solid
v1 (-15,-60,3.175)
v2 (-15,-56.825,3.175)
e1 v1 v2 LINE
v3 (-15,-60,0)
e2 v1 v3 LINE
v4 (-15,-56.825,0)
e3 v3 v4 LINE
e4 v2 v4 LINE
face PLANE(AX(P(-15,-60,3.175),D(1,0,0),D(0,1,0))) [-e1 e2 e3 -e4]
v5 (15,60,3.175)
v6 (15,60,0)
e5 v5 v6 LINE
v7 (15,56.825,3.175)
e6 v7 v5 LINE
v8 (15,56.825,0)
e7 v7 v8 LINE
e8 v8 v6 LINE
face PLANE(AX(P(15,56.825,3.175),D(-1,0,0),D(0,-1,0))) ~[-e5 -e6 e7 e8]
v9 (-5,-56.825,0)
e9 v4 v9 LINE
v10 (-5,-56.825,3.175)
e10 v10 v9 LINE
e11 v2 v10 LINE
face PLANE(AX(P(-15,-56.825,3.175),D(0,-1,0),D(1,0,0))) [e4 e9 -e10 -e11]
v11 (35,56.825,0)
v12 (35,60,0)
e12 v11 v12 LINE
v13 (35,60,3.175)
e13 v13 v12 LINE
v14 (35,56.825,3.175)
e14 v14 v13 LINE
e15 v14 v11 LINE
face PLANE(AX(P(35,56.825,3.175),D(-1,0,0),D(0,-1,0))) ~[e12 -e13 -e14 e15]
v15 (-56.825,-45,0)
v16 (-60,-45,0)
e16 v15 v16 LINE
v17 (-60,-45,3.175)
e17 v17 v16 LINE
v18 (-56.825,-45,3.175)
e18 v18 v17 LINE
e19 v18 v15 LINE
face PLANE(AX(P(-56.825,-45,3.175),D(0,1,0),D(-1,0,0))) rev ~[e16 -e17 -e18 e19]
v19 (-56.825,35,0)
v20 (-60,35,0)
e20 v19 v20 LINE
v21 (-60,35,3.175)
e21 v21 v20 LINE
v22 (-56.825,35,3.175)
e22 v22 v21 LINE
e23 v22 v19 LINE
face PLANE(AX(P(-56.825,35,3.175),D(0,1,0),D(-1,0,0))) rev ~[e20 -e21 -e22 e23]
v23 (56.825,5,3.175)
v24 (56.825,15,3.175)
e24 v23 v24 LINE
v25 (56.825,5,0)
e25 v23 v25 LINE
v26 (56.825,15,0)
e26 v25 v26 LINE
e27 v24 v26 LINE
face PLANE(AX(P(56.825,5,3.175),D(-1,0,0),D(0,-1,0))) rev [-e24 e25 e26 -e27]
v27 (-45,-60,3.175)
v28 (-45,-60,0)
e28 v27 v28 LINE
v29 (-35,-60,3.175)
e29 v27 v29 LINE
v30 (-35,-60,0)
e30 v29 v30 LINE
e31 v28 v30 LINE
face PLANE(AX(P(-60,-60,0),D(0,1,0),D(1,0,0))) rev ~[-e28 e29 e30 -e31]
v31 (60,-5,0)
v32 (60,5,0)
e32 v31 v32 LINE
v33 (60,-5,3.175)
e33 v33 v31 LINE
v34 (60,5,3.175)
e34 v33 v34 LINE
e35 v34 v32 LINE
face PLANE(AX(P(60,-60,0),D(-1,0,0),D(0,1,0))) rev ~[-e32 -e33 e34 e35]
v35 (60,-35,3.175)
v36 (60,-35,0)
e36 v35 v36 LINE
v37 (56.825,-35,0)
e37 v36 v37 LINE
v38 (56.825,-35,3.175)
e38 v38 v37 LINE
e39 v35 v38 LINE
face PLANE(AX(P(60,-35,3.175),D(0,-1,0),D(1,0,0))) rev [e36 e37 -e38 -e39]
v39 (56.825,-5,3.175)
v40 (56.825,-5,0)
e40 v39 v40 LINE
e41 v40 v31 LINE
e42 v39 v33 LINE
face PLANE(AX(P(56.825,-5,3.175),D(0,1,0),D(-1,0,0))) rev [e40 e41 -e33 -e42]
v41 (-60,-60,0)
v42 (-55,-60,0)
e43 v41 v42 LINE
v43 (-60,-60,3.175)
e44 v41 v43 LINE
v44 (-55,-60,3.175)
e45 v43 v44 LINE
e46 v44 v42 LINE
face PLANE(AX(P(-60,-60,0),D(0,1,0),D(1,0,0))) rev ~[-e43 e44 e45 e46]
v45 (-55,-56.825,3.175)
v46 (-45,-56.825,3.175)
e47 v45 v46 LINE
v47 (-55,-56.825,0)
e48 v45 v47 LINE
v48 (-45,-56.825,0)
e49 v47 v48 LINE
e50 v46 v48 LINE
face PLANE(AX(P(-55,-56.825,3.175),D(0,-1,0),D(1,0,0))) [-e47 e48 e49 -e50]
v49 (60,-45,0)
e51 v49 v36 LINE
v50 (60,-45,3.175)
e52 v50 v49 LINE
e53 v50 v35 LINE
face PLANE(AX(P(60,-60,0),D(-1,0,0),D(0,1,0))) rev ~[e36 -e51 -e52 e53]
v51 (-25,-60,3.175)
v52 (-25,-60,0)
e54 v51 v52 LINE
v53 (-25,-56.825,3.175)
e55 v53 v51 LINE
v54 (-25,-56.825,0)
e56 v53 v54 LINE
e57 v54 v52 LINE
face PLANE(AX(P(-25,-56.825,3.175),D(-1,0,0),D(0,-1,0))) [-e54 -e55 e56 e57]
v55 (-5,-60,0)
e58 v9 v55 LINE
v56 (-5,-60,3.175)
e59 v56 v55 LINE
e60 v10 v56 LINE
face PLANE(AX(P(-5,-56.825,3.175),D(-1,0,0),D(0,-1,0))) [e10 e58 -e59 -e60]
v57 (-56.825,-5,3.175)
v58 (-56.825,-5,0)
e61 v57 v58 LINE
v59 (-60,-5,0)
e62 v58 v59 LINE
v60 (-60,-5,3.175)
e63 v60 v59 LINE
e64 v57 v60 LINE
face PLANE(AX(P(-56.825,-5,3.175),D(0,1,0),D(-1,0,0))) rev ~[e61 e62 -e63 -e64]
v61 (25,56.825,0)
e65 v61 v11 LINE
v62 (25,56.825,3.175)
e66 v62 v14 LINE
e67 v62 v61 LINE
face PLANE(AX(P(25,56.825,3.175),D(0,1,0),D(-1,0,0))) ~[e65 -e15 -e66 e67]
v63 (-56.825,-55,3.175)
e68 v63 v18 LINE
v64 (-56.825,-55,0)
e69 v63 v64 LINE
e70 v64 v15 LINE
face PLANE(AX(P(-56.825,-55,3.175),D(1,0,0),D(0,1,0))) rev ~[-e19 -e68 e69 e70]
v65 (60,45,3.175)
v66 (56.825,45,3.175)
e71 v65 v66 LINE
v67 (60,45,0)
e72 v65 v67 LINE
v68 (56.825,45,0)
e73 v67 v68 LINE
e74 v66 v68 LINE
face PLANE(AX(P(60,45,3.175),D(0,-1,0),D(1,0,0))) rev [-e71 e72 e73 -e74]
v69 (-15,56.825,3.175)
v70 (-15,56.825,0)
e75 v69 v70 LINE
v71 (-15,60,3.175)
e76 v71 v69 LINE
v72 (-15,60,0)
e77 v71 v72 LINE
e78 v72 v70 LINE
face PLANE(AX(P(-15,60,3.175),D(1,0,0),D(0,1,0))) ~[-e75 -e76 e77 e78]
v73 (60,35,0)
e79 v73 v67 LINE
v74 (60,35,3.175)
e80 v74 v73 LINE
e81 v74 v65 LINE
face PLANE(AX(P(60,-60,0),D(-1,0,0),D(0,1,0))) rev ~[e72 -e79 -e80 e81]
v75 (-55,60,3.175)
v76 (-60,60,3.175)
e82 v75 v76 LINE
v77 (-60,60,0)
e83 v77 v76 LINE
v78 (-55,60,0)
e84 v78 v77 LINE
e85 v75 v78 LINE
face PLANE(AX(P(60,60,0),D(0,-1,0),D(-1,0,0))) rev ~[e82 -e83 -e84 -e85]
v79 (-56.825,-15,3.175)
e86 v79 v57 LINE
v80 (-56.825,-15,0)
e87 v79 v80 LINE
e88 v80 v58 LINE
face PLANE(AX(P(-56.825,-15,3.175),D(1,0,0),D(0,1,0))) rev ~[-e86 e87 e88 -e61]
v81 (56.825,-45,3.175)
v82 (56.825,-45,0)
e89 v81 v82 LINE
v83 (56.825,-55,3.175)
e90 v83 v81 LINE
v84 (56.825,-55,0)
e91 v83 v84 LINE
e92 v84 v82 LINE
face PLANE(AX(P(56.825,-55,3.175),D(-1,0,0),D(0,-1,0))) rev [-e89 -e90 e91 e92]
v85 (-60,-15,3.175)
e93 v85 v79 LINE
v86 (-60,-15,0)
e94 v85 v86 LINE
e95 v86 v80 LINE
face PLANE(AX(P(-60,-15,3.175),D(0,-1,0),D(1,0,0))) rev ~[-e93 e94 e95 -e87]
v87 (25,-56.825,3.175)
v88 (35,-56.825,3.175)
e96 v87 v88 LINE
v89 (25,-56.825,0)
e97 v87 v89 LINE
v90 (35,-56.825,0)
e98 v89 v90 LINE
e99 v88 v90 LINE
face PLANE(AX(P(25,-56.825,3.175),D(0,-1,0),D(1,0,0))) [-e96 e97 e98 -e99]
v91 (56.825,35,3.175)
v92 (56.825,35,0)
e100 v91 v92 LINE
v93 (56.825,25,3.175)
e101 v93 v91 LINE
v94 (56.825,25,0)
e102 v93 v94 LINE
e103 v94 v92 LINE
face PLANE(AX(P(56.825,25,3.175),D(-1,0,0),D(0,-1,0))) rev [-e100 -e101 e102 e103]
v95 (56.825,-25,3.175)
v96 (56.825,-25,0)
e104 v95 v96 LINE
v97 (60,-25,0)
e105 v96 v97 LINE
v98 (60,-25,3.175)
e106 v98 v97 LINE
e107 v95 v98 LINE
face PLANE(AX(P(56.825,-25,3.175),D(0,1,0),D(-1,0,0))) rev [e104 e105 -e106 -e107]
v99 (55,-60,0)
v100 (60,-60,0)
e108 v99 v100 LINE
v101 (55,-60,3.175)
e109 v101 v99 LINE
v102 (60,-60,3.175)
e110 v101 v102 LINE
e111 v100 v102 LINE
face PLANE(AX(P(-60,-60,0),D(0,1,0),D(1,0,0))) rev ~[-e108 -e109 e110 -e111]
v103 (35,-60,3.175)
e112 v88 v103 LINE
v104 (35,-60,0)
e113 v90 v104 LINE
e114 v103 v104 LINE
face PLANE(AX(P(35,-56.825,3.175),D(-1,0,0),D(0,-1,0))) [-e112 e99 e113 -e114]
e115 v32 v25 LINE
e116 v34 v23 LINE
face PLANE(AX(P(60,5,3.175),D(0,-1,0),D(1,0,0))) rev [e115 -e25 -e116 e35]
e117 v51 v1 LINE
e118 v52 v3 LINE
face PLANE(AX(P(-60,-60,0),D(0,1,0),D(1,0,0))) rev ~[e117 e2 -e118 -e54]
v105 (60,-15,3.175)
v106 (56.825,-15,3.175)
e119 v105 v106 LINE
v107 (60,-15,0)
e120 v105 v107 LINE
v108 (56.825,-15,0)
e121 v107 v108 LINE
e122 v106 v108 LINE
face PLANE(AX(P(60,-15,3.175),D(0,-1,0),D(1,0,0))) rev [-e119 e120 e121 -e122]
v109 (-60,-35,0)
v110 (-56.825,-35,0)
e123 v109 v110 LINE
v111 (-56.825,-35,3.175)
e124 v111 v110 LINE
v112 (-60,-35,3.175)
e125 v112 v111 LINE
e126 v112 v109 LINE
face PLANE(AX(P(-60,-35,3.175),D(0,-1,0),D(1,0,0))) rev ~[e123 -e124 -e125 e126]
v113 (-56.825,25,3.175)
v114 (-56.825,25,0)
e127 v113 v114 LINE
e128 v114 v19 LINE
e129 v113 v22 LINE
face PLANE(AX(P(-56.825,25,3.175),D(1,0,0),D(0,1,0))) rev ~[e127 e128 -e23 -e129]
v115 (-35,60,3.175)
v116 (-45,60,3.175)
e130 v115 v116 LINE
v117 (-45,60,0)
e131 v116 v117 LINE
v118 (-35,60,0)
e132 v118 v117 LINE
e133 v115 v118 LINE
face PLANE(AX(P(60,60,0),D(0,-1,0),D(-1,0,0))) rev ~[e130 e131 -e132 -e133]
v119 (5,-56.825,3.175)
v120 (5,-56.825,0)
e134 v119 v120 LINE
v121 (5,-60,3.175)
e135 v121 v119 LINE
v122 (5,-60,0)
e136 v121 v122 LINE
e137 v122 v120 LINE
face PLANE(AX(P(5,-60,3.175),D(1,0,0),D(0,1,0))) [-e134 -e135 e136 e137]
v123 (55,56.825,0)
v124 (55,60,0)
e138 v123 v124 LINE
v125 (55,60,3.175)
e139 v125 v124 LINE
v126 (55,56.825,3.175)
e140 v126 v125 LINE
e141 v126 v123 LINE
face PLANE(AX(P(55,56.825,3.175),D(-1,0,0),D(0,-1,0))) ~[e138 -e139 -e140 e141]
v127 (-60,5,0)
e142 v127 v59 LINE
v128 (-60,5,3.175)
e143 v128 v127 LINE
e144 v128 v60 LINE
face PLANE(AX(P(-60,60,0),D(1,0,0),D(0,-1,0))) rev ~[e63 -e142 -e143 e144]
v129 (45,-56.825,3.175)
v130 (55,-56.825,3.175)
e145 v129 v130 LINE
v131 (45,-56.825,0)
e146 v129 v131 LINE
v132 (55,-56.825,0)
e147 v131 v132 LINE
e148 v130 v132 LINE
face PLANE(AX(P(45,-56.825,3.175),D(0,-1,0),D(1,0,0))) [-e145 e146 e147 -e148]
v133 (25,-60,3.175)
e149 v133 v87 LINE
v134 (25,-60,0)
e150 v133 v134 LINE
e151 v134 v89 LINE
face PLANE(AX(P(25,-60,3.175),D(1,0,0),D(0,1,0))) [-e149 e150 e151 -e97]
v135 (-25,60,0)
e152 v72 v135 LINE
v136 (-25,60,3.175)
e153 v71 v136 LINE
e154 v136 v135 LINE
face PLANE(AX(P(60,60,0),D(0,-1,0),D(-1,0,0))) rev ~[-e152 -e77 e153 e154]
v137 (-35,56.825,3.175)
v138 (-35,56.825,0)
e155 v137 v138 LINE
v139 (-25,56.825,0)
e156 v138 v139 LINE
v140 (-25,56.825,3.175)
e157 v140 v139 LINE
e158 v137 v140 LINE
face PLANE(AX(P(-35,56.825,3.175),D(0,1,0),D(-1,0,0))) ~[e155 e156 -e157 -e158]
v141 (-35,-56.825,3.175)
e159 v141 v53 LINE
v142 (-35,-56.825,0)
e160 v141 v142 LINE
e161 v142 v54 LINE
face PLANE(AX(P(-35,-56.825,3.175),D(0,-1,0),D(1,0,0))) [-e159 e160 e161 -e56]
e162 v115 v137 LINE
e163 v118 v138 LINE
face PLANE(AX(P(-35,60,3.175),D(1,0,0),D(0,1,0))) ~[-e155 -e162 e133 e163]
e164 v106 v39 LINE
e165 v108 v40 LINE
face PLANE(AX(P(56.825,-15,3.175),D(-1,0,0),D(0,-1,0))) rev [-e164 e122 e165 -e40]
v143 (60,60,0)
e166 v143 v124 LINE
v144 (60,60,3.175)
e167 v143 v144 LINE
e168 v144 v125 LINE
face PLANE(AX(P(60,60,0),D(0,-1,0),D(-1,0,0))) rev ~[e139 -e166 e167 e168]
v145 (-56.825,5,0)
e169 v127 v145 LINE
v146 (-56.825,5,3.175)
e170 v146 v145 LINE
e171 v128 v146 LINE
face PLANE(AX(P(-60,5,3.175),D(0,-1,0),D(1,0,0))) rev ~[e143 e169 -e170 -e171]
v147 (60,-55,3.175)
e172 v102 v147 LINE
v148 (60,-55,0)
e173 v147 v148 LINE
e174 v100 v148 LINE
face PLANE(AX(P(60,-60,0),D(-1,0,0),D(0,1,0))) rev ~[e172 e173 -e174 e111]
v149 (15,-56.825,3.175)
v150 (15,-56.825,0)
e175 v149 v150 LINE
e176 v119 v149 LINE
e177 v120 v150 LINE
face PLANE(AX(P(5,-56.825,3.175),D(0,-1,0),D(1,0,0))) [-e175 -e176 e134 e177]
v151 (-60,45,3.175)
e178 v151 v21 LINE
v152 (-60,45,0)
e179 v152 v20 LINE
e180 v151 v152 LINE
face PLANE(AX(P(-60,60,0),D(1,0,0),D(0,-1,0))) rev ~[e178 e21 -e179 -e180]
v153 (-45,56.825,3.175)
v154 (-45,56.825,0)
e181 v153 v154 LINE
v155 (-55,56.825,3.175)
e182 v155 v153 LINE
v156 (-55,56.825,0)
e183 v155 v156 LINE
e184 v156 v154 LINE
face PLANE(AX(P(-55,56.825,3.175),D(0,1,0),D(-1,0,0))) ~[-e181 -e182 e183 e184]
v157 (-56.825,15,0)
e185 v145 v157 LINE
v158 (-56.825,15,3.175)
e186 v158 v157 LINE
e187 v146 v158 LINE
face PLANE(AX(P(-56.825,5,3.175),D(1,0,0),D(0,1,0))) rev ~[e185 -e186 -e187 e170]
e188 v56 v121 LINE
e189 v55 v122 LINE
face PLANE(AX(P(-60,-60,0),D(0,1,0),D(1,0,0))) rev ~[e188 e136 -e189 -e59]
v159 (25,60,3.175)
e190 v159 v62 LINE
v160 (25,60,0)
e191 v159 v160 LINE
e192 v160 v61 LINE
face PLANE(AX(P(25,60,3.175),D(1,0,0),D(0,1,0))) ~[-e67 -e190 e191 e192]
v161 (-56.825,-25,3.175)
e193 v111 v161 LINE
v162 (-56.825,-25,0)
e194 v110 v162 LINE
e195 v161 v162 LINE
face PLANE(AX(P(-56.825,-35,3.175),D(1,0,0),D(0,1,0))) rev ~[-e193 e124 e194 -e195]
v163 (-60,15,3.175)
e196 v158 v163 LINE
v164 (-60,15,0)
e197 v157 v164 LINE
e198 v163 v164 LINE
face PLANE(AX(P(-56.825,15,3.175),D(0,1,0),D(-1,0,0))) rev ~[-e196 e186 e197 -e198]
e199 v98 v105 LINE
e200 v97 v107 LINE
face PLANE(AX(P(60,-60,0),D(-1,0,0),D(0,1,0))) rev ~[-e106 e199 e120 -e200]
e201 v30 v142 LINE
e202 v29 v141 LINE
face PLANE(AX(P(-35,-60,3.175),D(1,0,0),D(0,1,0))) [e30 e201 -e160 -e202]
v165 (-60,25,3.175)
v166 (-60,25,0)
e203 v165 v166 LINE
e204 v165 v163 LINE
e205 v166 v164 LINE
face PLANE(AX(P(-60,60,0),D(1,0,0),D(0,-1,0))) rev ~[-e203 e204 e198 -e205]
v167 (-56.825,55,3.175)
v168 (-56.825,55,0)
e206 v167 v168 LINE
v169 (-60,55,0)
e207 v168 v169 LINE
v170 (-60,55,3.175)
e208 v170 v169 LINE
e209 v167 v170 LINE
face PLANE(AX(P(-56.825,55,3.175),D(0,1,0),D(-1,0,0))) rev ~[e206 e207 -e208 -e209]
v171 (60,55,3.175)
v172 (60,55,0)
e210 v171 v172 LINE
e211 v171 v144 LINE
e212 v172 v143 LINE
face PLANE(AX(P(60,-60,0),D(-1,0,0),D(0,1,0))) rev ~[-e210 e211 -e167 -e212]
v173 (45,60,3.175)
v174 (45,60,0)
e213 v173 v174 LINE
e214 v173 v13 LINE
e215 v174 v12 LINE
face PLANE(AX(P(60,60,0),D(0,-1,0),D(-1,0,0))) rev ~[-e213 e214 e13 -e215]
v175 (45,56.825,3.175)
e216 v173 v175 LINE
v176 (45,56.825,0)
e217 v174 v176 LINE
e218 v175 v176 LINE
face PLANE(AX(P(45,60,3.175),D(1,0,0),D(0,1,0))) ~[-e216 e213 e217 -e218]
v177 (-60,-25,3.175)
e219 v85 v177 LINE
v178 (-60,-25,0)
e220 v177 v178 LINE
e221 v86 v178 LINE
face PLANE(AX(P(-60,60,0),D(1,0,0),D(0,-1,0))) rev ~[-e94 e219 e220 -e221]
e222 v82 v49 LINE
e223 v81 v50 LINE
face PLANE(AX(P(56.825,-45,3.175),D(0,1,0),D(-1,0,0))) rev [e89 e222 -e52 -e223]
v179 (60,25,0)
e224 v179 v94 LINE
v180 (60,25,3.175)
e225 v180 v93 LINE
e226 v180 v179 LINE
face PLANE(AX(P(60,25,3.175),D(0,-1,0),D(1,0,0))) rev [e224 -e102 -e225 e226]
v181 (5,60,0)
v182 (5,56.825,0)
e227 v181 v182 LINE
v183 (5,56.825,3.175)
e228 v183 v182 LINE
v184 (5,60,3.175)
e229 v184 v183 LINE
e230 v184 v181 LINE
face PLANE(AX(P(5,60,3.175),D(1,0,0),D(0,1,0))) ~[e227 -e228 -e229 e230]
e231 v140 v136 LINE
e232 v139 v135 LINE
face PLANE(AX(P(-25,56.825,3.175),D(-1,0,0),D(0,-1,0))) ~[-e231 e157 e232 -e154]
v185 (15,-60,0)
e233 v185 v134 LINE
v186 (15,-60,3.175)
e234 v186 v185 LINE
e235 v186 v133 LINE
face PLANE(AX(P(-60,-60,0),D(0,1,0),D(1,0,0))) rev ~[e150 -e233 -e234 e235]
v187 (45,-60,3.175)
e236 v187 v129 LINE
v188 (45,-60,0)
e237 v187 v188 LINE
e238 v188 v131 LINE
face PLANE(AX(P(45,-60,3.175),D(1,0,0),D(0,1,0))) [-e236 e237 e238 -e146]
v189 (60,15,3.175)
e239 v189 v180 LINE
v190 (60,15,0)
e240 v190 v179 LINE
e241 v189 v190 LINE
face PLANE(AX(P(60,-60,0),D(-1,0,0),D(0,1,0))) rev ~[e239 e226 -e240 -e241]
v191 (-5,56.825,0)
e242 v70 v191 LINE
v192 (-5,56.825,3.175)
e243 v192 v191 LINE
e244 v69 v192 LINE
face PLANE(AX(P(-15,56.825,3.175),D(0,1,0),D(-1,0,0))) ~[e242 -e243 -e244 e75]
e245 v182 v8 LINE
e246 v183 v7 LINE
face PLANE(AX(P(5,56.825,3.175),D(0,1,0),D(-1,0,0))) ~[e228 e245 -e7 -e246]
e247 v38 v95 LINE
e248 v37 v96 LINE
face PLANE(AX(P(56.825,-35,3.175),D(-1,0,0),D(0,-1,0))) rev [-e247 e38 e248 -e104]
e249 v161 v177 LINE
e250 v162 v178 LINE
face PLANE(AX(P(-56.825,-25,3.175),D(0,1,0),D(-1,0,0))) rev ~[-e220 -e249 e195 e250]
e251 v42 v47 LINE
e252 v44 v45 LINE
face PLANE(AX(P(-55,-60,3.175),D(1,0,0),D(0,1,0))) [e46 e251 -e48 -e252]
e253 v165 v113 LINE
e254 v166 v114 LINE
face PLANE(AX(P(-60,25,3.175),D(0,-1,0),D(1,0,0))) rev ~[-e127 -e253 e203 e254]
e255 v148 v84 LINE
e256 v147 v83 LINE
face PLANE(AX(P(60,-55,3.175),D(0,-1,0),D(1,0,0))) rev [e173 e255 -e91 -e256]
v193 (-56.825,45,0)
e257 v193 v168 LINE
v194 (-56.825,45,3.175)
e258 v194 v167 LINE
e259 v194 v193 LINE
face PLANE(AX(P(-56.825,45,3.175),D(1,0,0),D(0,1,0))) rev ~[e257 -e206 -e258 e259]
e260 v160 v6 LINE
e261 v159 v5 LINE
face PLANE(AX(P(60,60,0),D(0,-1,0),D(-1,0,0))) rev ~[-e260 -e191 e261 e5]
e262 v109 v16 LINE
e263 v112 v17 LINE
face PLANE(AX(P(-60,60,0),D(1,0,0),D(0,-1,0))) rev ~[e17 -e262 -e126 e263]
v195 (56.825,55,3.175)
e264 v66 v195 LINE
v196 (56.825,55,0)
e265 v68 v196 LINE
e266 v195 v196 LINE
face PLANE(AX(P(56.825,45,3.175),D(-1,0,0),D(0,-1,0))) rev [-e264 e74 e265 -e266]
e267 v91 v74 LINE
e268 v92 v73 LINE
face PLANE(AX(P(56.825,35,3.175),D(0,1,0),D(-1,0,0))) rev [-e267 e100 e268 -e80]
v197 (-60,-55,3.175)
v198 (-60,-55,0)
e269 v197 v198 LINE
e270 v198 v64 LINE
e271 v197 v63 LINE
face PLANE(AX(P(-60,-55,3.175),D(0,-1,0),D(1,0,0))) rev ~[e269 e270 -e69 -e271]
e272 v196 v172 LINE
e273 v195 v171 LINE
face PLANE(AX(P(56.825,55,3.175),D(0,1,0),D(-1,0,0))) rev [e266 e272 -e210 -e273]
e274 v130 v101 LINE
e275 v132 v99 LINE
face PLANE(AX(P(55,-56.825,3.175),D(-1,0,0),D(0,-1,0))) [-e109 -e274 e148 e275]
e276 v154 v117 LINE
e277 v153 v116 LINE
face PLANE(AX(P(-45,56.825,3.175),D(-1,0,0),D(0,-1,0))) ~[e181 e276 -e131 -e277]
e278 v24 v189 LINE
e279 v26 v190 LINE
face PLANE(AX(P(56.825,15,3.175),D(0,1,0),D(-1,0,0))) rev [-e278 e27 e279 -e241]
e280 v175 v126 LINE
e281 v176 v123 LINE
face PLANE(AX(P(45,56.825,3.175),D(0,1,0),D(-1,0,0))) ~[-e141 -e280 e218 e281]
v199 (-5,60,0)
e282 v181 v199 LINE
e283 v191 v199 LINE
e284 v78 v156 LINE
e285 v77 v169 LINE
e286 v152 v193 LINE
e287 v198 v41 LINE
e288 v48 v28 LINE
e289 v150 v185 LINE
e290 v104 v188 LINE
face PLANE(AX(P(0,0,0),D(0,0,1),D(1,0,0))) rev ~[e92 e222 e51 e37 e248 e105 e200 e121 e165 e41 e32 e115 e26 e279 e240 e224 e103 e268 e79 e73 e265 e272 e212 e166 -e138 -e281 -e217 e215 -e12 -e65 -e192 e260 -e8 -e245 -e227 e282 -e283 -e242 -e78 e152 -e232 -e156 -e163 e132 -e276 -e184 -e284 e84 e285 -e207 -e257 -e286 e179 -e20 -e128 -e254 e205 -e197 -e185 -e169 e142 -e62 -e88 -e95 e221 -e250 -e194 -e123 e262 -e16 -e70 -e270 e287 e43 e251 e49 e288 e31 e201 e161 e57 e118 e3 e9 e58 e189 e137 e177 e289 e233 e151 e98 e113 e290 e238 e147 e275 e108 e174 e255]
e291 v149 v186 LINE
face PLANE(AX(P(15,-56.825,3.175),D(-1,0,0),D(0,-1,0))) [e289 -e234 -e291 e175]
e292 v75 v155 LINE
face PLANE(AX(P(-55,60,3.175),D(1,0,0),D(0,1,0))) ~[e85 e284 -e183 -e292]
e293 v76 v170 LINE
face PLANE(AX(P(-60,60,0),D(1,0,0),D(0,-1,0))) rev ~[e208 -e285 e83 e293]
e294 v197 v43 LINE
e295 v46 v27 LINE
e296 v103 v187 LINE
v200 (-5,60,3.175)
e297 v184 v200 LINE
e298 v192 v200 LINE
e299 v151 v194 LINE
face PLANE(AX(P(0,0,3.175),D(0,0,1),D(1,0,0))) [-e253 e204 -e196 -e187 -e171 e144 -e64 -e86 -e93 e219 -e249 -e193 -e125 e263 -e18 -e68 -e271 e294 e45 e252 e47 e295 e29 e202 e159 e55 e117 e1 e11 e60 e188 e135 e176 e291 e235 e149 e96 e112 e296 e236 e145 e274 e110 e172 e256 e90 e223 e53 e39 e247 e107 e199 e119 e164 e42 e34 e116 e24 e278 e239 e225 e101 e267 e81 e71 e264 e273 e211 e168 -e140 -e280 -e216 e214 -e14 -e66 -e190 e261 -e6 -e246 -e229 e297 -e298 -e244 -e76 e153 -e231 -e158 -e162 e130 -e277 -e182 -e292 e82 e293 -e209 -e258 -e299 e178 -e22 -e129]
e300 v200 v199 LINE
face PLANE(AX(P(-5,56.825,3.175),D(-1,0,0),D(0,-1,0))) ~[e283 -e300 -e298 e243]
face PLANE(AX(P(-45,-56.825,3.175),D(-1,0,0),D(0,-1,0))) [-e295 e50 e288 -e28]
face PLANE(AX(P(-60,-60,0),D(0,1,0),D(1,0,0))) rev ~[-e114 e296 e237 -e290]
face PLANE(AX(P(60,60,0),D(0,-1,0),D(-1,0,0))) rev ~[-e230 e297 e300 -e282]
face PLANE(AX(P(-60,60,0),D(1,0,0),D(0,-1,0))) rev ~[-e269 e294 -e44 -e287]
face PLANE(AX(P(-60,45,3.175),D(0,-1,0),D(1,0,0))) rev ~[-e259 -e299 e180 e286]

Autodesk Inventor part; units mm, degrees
ref_plane "YZ Plane" through (0, 0, 0) normal (1, 0, 0) x (0, 1, 0)
ref_plane "XZ Plane" through (0, 0, 0) normal (0, 1, 0) x (-1, 0, 0)
ref_plane "XY Plane" through (0, 0, 0) normal (0, 0, 1) x (1, 0, 0)
sketch "Sketch1" plane through (0, 0, 0) normal (0, 0, 1) x (1, 0, 0)
  line L0 (-60, -60) -> (60, -60)
  line L1 (60, -60) -> (60, 60)
  line L2 (60, 60) -> (-60, 60)
  line L3 (-60, 60) -> (-60, -60)
  line L4 (-60, -60) -> (60, 60) construction
  line L5 (60, -60) -> (-60, 60) construction
  point P0 (0, 0)
  dimension "d0" = 120
  dimension "d1" = 120
extrude "Extrusion1" add sketch "Sketch1" along normal blind 3.175
sketch "Sketch5" plane through (0, 0, 3.175) normal (0, 0, 1) x (1, 0, 0)
  line L0 (-60, -60) -> (60, -60) projected
  line L1 (60, -60) -> (60, 60) projected
  line L2 (60, 60) -> (-60, 60) projected
  line L3 (-60, 60) -> (-60, -60) projected
  line L4 (-60, -60) -> (60, -60) projected
  line L5 (55, -60) -> (45, -60)
  line L6 (45, -60) -> (45, -56.825)
  line L7 (45, -56.825) -> (55, -56.825)
  line L8 (55, -56.825) -> (55, -60)
  point P0 (0, 0)
  dimension "d25" = 10
  dimension "d27" = 5
  dimension "d41" = 3.175
extrude "Extrusion3" cut sketch "Sketch5" against normal up to surface (3.175 mm away) contours L6 L7 L8 L0
pattern_linear "Rectangular Pattern2" count 6 spacing 20 along (-1, 0, 0) of "Extrusion3"
mirror "Mirror2" about plane through (0, 0, 0) normal (0, 1, 0) of "Extrusion3", "Rectangular Pattern2"
sketch "Sketch6" plane through (0, 0, 3.175) normal (0, 0, 1) x (1, 0, 0)
  line L0 (-60, -60) -> (-55, -60) projected
  line L1 (-45, -60) -> (-35, -60) projected
  line L2 (-25, -60) -> (-15, -60) projected
  line L3 (-5, -60) -> (5, -60) projected
  line L4 (15, -60) -> (25, -60) projected
  line L5 (35, -60) -> (45, -60) projected
  line L6 (60, -60) -> (60, 60) projected
  line L7 (60, 60) -> (55, 60) projected
  line L8 (45, 60) -> (35, 60) projected
  line L9 (25, 60) -> (15, 60) projected
  line L10 (5, 60) -> (-5, 60) projected
  line L11 (-15, 60) -> (-25, 60) projected
  line L12 (-35, 60) -> (-45, 60) projected
  line L13 (-60, 60) -> (-60, -60) projected
  line L14 (-60, -55) -> (-56.825, -55)
  line L15 (-56.825, -55) -> (-56.825, -45)
  line L16 (-56.825, -45) -> (-60, -45)
  line L17 (-60, -45) -> (-60, -55)
  line L18 (55, -60) -> (60, -60) projected
  line L19 (-55, 60) -> (-60, 60) projected
  line L20 (-55, 56.825) -> (-55, 60) projected
  line L21 (-55, -60) -> (-55, -56.825) projected
  line L22 (-55, -56.825) -> (-45, -56.825) projected
  line L23 (-45, -56.825) -> (-45, -60) projected
  line L24 (-35, -60) -> (-35, -56.825) projected
  line L25 (-35, -56.825) -> (-25, -56.825) projected
  line L26 (-25, -56.825) -> (-25, -60) projected
  line L27 (-15, -60) -> (-15, -56.825) projected
  line L28 (-15, -56.825) -> (-5, -56.825) projected
  line L29 (-5, -56.825) -> (-5, -60) projected
  line L30 (5, -60) -> (5, -56.825) projected
  line L31 (5, -56.825) -> (15, -56.825) projected
  line L32 (15, -56.825) -> (15, -60) projected
  line L33 (25, -60) -> (25, -56.825) projected
  line L34 (25, -56.825) -> (35, -56.825) projected
  line L35 (35, -56.825) -> (35, -60) projected
  line L36 (45, -60) -> (45, -56.825) projected
  line L37 (45, -56.825) -> (55, -56.825) projected
  line L38 (55, -56.825) -> (55, -60) projected
  line L39 (55, 60) -> (55, 56.825) projected
  line L40 (55, 56.825) -> (45, 56.825) projected
  line L41 (45, 56.825) -> (45, 60) projected
  line L42 (35, 60) -> (35, 56.825) projected
  line L43 (35, 56.825) -> (25, 56.825) projected
  line L44 (25, 56.825) -> (25, 60) projected
  line L45 (15, 60) -> (15, 56.825) projected
  line L46 (15, 56.825) -> (5, 56.825) projected
  line L47 (5, 56.825) -> (5, 60) projected
  line L48 (-5, 60) -> (-5, 56.825) projected
  line L49 (-5, 56.825) -> (-15, 56.825) projected
  line L50 (-15, 56.825) -> (-15, 60) projected
  line L51 (-25, 60) -> (-25, 56.825) projected
  line L52 (-25, 56.825) -> (-35, 56.825) projected
  line L53 (-35, 56.825) -> (-35, 60) projected
  line L54 (-45, 60) -> (-45, 56.825) projected
  line L55 (-45, 56.825) -> (-55, 56.825) projected
  point P0 (0, 0)
  dimension "d34" = 10
  dimension "d35" = 5
  dimension "d42" = 3.175
extrude "Extrusion4" cut sketch "Sketch6" against normal up to surface (3.175 mm away) contours L13 L16 L15 L14
pattern_linear "Rectangular Pattern3" count 6 spacing 20 along (0, 1, 0) of "Extrusion4"
mirror "Mirror3" about plane through (0, 0, 0) normal (1, 0, 0) of "Extrusion4", "Rectangular Pattern3"
equation "\"d0\" = width"
equation "\"d1\" = depth"
equation "\"d2\" = materialThickness"
equation "\"d25\" = notchWidth"
equation "\"d27\" = 0 * materialThickness + 0.5 * width - 5.5 * notchWidth"
equation "\"d41\" = materialThickness"
equation "\"d32\" = 2 * notchWidth"
equation "\"d34\" = notchWidth"
equation "\"d35\" = 0 * materialThickness + 0.5 * depth - 5.5 * notchWidth"
equation "\"d42\" = materialThickness"
equation "\"d40\" = 2 * notchWidth"
equation "\"width\" = 120"
equation "\"depth\" = 120"
equation "\"materialThickness\" = 3.175"
equation "\"laserKerf\" = 0.12"
equation "\"cardPinDiameter\" = 3"
equation "\"cardFillet\" = 2.88"
equation "\"cardSelected\" = 1"
equation "\"cardThickness\" = 0.76"
equation "\"cardHeight\" = 53.98"
equation "\"cardWidth\" = 85.6"
equation "\"centeralShaftDiameter\" = 8"
equation "\"cardClearence\" = 0.5"
equation "\"bearingOd\" = 22"
equation "\"bearingWidth\" = 8"
equation "\"axleHeight\" = 95"
equation "\"nutTrapDepth\" = 2.5"
equation "\"nutTrapwidth\" = 5.5"
equation "\"nutTrapClearence\" = 2"
equation "\"magnetLength\" = 3"
equation "\"magnetDiameter\" = 6"
equation "\"magnetProtusion\" = 0.25"
equation "\"notchWidth\" = 10"
equation "\"spoolThickness\" = 5.588"
properties part number "topBottomPanel" material "Polycarbonate, Clear"
